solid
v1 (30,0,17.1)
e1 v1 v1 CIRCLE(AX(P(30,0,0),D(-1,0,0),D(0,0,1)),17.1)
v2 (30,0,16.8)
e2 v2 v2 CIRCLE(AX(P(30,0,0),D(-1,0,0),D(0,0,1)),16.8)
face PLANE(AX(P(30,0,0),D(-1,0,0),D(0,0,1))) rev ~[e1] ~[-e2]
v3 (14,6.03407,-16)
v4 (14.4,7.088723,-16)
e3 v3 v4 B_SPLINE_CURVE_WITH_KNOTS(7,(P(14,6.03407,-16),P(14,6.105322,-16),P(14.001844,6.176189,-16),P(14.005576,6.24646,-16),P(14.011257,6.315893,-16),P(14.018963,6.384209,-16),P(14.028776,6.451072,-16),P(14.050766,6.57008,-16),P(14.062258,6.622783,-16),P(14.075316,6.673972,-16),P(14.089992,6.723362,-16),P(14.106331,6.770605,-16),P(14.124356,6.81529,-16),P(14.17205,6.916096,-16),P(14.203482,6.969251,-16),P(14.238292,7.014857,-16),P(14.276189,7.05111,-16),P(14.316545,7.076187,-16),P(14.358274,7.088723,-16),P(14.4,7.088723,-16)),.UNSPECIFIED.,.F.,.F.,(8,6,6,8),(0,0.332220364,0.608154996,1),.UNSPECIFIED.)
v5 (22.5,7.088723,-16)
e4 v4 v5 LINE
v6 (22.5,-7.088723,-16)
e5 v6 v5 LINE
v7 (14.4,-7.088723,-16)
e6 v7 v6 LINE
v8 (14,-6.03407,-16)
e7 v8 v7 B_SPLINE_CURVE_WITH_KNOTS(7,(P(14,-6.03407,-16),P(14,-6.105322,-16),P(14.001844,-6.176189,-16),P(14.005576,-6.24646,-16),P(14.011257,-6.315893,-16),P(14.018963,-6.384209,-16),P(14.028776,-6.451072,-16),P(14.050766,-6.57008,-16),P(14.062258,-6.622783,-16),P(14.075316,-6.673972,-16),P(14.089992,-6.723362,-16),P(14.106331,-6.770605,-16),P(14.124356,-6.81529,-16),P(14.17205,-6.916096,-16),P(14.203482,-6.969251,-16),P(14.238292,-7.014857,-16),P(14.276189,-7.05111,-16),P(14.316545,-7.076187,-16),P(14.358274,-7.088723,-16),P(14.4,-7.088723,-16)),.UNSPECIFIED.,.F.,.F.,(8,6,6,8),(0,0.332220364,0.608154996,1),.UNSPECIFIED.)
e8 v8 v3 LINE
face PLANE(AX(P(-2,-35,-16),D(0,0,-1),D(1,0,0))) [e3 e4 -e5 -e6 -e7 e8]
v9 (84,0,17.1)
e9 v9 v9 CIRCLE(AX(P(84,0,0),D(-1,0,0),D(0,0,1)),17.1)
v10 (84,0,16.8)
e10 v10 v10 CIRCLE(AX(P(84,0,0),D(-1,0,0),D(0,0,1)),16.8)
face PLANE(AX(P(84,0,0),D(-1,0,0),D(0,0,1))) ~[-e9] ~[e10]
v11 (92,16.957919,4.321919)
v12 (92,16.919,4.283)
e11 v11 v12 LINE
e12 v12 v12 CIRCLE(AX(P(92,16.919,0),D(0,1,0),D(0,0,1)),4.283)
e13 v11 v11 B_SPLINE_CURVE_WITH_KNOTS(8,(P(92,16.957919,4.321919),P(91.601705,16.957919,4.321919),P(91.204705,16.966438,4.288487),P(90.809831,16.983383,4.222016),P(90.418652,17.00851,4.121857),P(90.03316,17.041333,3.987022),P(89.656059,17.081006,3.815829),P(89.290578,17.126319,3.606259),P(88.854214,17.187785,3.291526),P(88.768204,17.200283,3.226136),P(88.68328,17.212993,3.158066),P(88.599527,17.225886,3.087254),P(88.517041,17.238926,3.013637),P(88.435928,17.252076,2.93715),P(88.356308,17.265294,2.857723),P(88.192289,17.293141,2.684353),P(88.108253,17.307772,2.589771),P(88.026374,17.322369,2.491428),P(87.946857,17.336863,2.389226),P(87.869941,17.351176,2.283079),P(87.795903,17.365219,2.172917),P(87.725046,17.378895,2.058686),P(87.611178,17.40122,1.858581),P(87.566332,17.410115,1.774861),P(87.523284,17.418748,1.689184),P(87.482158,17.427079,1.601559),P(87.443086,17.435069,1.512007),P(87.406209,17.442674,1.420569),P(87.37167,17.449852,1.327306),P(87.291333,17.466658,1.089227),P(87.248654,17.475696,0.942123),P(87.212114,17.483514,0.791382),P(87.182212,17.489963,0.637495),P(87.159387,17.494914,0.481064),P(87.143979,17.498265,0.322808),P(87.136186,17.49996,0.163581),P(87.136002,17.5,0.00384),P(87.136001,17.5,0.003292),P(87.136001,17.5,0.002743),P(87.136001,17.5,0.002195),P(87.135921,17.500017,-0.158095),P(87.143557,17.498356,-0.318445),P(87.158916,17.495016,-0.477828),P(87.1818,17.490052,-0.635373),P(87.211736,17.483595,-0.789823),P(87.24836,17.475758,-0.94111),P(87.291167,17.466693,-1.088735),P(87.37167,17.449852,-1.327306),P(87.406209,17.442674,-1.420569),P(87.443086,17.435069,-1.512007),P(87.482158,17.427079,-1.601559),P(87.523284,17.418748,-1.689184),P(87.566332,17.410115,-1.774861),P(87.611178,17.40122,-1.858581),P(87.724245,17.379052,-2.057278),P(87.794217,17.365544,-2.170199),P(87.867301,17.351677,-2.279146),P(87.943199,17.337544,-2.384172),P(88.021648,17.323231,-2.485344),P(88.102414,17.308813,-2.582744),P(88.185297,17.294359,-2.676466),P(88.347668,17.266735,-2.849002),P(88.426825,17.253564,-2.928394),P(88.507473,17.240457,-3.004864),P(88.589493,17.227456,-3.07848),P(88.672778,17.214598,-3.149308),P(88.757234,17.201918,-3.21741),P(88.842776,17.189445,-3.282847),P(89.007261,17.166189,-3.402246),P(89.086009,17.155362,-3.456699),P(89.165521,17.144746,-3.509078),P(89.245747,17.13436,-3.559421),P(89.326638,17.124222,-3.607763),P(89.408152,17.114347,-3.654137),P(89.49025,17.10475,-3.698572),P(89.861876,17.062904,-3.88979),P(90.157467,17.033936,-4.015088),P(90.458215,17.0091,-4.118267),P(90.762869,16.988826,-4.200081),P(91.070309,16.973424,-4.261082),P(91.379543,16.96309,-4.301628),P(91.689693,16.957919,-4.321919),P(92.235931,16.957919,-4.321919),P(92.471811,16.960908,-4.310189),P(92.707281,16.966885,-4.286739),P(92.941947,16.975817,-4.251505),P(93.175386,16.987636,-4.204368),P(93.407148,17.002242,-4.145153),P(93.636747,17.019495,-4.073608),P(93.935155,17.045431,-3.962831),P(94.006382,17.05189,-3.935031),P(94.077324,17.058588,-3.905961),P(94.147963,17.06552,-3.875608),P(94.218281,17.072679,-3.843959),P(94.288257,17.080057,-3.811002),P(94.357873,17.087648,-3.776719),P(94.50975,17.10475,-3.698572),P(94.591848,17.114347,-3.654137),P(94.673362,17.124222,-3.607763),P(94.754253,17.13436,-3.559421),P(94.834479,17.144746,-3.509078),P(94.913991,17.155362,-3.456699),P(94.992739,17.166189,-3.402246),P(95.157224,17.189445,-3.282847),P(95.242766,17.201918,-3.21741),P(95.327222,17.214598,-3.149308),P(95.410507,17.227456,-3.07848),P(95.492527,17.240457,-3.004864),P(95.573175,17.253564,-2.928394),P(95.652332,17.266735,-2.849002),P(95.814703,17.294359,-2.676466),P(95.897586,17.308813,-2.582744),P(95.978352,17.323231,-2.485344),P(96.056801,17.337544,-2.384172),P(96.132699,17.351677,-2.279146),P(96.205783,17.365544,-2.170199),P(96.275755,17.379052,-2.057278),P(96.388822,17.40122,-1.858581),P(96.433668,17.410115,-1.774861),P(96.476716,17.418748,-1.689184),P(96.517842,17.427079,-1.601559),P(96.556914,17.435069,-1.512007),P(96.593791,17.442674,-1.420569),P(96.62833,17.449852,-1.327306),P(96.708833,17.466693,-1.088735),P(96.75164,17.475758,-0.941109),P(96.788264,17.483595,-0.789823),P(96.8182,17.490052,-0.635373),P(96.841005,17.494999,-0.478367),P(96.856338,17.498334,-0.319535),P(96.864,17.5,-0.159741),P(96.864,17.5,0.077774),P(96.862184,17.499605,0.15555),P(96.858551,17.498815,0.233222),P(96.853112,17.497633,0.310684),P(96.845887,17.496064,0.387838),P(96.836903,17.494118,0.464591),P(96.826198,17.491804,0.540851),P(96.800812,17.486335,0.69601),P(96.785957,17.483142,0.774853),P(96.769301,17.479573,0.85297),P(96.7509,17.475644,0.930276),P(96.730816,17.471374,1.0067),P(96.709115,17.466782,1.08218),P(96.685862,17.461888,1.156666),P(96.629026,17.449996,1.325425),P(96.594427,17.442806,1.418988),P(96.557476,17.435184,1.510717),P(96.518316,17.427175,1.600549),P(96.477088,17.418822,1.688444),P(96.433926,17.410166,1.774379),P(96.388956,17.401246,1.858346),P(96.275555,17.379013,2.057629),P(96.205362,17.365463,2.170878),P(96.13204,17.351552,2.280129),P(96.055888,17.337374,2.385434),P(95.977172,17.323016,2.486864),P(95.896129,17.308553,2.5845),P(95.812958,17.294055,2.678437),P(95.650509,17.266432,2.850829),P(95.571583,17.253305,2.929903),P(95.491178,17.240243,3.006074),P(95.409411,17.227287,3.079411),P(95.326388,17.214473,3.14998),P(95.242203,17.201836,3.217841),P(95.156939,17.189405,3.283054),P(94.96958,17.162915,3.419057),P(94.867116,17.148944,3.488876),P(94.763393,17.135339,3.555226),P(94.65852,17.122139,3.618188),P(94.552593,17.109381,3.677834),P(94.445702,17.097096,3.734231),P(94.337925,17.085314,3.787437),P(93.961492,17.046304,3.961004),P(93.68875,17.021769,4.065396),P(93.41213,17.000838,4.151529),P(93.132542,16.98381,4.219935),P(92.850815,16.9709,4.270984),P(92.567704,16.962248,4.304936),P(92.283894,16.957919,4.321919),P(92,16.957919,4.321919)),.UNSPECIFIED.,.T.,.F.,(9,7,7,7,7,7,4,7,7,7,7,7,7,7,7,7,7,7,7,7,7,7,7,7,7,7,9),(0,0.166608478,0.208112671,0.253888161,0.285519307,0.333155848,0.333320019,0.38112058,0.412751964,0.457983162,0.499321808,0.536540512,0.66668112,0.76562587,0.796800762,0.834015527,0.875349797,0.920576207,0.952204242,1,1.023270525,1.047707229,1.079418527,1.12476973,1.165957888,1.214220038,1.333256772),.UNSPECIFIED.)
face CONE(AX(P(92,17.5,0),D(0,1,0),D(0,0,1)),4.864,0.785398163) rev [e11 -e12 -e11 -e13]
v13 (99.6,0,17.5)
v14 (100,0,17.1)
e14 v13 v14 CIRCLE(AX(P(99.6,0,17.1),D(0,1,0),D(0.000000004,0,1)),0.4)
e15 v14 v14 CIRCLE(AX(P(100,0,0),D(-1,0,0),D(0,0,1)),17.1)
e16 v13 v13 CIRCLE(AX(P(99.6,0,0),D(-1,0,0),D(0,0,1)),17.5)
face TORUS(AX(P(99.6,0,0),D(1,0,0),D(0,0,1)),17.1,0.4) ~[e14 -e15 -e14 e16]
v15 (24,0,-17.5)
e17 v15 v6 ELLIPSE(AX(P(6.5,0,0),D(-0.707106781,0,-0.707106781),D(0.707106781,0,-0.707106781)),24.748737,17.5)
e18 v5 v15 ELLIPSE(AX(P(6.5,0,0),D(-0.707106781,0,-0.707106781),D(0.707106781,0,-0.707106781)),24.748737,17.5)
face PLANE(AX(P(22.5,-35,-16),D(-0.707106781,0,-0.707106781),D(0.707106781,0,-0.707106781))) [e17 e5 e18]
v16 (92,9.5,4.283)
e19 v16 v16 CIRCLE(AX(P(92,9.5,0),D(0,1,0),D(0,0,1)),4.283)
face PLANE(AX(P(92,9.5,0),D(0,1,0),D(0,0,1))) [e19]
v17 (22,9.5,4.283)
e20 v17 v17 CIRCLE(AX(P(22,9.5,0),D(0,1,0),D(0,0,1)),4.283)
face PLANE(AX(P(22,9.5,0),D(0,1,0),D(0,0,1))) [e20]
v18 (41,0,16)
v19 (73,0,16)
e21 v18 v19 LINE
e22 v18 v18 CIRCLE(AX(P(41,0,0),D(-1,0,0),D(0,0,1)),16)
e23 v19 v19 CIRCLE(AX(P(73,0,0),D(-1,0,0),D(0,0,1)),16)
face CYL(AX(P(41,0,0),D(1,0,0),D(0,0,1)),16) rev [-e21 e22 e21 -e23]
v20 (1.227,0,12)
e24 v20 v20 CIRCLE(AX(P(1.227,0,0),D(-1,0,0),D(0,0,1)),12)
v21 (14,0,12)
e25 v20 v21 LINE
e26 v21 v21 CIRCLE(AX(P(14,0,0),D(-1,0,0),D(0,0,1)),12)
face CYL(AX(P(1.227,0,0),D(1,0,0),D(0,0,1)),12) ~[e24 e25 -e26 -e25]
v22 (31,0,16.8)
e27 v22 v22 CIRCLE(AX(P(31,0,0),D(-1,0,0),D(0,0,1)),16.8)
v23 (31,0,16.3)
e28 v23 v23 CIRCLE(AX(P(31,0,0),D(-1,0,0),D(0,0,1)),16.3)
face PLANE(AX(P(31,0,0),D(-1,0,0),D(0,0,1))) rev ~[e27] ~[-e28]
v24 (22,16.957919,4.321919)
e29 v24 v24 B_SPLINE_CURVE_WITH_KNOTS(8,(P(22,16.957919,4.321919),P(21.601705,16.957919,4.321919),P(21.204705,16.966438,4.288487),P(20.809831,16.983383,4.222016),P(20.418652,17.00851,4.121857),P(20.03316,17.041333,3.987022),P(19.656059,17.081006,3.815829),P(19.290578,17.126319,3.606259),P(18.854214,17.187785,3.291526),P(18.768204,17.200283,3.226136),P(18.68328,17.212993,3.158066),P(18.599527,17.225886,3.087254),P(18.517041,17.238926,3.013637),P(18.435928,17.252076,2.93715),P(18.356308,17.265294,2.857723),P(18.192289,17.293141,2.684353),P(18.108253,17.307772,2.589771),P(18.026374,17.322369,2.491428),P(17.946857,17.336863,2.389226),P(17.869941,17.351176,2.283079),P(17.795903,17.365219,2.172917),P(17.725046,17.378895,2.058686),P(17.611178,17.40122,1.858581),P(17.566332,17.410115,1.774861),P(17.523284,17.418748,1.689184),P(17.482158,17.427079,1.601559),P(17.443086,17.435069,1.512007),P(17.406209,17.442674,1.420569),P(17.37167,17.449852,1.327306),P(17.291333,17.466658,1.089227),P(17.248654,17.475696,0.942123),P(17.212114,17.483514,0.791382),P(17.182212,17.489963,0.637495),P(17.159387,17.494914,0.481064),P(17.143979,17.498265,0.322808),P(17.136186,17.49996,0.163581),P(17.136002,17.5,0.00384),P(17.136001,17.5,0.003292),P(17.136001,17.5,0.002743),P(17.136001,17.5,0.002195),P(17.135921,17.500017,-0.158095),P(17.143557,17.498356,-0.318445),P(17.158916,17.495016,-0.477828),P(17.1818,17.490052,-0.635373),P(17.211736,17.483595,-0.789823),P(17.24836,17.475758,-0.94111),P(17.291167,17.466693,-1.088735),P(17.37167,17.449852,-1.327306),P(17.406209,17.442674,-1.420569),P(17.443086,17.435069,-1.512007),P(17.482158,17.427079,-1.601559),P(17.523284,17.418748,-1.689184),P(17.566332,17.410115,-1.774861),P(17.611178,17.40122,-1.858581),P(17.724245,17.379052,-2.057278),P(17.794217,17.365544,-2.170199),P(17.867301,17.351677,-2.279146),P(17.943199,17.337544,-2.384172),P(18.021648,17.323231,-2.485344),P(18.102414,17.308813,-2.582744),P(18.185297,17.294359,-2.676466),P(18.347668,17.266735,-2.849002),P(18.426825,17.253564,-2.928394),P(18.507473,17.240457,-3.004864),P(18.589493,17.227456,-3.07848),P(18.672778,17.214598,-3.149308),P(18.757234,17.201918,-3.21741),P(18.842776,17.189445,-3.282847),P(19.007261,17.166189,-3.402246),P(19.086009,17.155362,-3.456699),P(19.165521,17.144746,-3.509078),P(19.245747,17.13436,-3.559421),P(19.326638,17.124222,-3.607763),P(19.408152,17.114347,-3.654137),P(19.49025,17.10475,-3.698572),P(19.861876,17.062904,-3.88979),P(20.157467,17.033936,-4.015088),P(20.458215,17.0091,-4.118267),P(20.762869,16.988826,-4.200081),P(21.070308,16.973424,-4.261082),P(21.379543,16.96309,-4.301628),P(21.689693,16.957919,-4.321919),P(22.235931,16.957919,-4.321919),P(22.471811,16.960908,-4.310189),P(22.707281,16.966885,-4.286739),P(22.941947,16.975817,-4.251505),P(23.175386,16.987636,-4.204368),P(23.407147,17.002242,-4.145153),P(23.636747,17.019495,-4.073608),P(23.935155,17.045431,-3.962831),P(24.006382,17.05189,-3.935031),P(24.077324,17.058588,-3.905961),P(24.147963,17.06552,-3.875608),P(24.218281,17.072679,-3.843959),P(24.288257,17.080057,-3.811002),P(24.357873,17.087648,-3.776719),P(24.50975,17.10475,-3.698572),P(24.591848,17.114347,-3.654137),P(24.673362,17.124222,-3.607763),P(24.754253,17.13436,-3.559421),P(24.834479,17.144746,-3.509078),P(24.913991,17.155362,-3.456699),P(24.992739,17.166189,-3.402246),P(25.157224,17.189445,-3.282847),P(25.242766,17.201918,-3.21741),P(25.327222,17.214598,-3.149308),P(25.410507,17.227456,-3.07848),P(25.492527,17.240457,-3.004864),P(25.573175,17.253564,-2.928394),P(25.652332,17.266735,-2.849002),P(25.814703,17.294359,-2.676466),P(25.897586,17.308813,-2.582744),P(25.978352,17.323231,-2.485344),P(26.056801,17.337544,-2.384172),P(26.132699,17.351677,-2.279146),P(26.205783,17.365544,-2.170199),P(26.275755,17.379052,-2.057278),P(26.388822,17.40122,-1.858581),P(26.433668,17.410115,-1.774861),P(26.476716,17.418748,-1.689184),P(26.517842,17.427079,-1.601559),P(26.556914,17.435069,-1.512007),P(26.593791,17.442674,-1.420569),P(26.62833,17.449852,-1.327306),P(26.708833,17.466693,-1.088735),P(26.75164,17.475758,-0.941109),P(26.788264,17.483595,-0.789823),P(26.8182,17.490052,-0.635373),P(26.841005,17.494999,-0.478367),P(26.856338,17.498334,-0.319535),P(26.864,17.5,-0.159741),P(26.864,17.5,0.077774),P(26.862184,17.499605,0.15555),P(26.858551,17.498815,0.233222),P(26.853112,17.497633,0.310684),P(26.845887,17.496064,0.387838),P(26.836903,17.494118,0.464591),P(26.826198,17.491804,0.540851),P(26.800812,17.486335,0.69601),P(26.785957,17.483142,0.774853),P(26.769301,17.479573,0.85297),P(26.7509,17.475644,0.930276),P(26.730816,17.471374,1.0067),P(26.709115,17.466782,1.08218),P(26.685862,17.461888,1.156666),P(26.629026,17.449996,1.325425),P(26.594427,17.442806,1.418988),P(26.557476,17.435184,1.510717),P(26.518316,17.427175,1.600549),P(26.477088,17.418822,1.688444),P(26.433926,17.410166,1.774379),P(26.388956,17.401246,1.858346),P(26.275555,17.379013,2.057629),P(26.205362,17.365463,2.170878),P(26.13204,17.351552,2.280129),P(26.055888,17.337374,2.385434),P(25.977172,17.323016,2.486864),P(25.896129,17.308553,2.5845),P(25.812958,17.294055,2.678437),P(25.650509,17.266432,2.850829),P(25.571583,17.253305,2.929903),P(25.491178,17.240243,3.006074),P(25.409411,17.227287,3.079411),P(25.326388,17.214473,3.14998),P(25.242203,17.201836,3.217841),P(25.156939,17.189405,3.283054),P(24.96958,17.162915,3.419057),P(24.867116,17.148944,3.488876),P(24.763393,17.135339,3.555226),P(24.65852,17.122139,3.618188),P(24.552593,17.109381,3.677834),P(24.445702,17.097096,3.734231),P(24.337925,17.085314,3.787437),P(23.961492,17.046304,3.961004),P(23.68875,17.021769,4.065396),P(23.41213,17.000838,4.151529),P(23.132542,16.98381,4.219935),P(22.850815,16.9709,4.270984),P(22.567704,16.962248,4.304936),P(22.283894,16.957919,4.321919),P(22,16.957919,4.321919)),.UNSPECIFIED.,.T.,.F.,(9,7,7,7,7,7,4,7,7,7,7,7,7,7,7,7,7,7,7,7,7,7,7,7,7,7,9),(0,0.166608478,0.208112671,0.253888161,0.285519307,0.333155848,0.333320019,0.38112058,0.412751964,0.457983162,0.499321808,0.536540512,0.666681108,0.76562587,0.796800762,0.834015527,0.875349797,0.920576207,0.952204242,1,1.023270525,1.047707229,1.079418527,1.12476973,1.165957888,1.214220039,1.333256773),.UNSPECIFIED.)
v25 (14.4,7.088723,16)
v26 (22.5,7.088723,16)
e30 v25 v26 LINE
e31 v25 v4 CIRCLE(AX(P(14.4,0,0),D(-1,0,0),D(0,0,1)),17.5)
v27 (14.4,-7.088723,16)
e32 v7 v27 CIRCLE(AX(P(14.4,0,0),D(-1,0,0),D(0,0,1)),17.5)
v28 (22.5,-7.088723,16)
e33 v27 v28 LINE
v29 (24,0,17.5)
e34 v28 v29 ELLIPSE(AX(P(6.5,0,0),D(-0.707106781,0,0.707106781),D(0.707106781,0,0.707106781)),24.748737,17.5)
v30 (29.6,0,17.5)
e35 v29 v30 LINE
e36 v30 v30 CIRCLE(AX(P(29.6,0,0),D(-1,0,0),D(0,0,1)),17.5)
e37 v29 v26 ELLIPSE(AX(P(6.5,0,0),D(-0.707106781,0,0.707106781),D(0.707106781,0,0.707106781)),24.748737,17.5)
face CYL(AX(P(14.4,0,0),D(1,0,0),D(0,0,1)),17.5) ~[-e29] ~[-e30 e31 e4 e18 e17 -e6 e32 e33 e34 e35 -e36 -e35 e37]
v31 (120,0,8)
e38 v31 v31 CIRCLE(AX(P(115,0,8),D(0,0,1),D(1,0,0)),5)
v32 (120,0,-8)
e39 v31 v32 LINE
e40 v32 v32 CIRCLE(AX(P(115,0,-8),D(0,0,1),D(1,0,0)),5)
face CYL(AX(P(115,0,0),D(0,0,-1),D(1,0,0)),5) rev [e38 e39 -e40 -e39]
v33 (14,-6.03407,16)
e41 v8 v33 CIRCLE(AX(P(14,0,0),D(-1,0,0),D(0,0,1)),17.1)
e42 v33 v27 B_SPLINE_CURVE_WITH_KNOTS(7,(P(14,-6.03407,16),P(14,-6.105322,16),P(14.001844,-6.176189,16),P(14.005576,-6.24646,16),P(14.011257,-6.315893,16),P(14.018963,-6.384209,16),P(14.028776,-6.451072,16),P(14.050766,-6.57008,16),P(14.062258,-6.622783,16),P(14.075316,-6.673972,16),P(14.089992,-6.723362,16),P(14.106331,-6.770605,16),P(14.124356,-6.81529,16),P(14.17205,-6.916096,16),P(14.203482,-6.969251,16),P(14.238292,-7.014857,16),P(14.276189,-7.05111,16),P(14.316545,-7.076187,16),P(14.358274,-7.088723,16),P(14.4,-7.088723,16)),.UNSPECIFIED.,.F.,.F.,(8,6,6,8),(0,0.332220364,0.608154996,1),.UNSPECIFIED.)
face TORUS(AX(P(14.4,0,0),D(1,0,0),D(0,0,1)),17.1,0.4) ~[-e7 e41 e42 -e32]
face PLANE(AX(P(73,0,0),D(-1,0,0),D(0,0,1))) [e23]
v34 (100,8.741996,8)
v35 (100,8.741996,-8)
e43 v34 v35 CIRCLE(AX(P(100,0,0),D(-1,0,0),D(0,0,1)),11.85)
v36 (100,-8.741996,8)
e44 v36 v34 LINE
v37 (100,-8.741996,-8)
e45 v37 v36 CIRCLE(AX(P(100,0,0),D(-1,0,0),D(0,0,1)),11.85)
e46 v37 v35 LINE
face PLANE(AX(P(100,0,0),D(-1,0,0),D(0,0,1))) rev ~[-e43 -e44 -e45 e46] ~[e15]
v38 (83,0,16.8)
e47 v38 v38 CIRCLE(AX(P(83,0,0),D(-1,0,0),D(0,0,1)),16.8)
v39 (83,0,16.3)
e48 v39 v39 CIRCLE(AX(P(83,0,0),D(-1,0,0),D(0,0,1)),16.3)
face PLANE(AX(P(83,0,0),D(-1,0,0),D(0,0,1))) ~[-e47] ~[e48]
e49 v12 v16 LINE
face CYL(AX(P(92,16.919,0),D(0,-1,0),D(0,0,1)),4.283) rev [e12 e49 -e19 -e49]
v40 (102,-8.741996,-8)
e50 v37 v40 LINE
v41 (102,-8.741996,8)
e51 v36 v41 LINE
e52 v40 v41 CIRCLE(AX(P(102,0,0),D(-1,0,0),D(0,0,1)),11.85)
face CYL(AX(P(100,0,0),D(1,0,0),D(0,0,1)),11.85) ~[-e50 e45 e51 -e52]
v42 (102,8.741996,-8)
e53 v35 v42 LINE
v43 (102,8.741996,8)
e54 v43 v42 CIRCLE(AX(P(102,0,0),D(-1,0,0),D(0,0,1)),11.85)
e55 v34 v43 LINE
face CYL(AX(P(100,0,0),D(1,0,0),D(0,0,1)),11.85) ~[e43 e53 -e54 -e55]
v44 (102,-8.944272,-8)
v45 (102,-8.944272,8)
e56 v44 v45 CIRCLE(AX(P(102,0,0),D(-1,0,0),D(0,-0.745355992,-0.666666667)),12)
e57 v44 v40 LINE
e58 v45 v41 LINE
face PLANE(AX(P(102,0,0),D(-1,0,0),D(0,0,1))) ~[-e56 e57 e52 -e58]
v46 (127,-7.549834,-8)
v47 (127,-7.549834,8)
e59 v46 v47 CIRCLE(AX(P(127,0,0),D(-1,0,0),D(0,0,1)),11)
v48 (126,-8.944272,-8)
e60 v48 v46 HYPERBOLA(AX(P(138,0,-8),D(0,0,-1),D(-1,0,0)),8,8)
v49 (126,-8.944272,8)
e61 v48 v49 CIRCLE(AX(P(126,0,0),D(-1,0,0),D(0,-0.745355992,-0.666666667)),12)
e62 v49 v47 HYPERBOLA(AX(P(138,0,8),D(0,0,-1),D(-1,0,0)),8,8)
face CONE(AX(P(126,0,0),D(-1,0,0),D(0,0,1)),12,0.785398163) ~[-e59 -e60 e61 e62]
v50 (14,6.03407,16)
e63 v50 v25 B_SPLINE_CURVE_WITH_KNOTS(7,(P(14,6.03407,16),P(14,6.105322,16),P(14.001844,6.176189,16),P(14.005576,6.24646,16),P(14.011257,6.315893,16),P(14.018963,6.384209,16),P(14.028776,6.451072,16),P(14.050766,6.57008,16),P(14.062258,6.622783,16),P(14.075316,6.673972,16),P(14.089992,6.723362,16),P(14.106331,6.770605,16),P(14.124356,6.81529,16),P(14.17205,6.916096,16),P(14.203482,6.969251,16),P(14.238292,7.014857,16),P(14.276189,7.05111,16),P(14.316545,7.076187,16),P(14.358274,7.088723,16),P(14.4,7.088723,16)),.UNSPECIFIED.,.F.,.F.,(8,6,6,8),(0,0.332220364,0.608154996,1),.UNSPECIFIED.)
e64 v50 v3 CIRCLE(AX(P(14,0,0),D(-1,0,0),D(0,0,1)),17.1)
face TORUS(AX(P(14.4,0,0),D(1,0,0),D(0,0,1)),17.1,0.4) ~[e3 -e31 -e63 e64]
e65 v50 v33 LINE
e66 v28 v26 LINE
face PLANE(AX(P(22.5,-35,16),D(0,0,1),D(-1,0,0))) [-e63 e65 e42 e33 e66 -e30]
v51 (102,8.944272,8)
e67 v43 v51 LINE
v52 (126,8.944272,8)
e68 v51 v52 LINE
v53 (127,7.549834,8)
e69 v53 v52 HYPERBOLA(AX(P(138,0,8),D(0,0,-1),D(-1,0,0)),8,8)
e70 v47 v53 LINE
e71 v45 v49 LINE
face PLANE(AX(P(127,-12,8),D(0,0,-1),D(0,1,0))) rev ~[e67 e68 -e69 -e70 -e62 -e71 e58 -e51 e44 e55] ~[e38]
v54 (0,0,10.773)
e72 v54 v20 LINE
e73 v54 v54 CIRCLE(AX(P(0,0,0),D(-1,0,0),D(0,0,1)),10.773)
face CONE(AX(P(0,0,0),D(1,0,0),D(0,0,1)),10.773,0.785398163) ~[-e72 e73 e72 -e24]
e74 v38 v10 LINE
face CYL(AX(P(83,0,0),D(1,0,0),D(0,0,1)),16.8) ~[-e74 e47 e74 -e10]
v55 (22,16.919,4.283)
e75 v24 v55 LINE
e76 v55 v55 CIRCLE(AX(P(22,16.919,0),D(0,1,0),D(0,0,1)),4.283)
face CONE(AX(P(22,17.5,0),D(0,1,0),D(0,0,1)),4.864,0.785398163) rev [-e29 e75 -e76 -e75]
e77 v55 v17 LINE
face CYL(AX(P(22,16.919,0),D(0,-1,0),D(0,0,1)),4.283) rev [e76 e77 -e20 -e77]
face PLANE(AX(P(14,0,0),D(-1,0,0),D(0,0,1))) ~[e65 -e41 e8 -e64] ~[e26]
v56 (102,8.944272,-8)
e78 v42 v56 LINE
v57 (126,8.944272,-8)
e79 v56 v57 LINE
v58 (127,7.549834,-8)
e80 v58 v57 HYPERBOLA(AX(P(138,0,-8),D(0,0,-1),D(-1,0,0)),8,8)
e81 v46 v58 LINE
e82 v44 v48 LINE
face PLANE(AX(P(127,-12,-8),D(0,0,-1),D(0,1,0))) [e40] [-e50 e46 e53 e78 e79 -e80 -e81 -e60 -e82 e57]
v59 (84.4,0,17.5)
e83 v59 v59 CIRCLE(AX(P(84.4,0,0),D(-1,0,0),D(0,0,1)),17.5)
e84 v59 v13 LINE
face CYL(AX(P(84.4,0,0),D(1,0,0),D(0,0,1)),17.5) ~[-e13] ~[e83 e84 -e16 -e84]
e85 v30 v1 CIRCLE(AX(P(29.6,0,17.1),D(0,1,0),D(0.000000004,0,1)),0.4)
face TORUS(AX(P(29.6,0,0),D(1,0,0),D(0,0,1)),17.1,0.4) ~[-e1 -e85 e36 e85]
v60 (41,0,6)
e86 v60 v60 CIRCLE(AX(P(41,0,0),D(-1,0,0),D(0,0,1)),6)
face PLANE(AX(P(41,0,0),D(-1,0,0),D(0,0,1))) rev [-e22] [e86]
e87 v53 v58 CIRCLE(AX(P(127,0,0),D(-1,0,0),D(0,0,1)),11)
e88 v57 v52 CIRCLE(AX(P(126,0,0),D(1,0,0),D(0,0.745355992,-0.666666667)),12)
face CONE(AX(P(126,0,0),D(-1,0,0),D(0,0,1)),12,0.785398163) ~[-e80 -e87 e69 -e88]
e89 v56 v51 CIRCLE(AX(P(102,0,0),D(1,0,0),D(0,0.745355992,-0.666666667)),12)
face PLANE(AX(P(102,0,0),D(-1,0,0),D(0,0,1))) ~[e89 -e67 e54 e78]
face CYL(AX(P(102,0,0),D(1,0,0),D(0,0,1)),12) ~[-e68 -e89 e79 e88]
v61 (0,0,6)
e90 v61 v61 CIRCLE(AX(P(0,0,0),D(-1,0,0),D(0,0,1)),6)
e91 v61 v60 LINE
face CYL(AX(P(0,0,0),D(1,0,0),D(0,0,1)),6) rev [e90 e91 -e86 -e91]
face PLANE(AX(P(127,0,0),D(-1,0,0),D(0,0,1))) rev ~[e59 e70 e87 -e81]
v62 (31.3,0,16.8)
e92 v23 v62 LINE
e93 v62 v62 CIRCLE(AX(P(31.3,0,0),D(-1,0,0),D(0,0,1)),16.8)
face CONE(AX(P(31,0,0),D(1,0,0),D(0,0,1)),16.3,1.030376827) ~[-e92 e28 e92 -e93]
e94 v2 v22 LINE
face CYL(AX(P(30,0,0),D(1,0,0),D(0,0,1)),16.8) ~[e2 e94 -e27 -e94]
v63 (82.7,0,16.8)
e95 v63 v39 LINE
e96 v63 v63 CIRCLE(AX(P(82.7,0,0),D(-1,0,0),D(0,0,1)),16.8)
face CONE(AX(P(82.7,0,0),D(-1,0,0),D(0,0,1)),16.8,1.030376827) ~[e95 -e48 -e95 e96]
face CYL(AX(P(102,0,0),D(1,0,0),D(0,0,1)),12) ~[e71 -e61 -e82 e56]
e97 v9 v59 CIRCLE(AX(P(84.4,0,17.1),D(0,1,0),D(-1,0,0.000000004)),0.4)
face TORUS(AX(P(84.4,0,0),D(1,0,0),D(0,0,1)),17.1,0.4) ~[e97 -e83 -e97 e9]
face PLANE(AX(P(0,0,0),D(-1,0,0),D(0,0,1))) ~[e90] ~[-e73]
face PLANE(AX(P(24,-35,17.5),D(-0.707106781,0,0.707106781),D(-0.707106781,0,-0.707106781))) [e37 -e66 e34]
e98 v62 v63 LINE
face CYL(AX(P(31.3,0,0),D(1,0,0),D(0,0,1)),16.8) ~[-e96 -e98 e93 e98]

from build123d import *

# Parameters (mm, degrees)
SKETCH_3_W               = 36
SKETCH_3_H               = 44
SKETCH_3_W_2             = 16
SKETCH_3_H_2             = 24
CUT_EXTRUDE_1_DEPTH      = 27
SKETCH_4_W               = 16
SKETCH_4_H               = 5
CUT_EXTRUDE_2_DEPTH      = 35
CUT_EXTRUDE_2_DEPTH_BACK = 35


with BuildPart() as part:
    # 草图1 → 旋转1 (revolve)
    with BuildSketch(Plane.XY):
        with BuildLine():
            Line((0, 0), (0, 10.773))
            Line((0, 10.773), (1.227, 12))
            Line((1.227, 12), (14, 12))
            Line((14, 12), (14, 17.1))
            ThreePointArc((14, 17.1), (14.117157288, 17.382842712), (14.4, 17.5))
            Line((14.4, 17.5), (29.6, 17.5))
            ThreePointArc((29.6, 17.5), (29.882842712, 17.382842712), (30, 17.1))
            Line((30, 17.1), (30, 16.8))
            Line((30, 16.8), (31, 16.8))
            Line((31, 16.8), (31, 16.3))
            Line((31, 16.3), (31.3, 16.8))
            Line((31.3, 16.8), (82.7, 16.8))
            Line((82.7, 16.8), (83, 16.3))
            Line((83, 16.3), (83, 16.8))
            Line((83, 16.8), (84, 16.8))
            Line((84, 16.8), (84, 17.1))
            ThreePointArc((84, 17.1), (84.117157288, 17.382842712), (84.4, 17.5))
            Line((84.4, 17.5), (99.6, 17.5))
            ThreePointArc((99.6, 17.5), (99.882842712, 17.382842712), (100, 17.1))
            Line((100, 17.1), (100, 0))
            Line((100, 0), (0, 0))
        make_face()
    revolve(axis=Axis((100, 0, 0), (-1, 0, 0)))

    # 草图2 → 旋转2 (revolve)
    with BuildSketch(Plane.XY):
        Polygon((100, 0), (100, 11.85), (102, 11.85), (102, 12), (126, 12), (127, 11), (127, 0), align=None)
    revolve(axis=Axis((127, 0, 0), (-1, 0, 0)))

    # 草图3 → 切除-拉伸1 (cut)
    with BuildSketch(Plane(origin=(127, 0, 0), x_dir=(0, 0, -1), z_dir=(1, 0, 0))):
        Rectangle(SKETCH_3_W, SKETCH_3_H)
        Rectangle(SKETCH_3_W_2, SKETCH_3_H_2, mode=Mode.SUBTRACT)
    extrude(amount=-CUT_EXTRUDE_1_DEPTH, mode=Mode.SUBTRACT)

    # 草图4 → 切除-旋转1 (revolve, cut)
    with BuildSketch(Plane(origin=(115, 0, 0), x_dir=(0, 0, -1), z_dir=(1, 0, 0))):
        with Locations((0, 2.5)):
            Rectangle(SKETCH_4_W, SKETCH_4_H)
    revolve(axis=Axis((115, 0, -8), (0, 0, 1)), mode=Mode.SUBTRACT)

    # 草图5 → 切除-旋转2 (revolve, cut)
    with BuildSketch(Plane.XY):
        Polygon((22, 17.5), (26.864, 17.5), (26.283, 16.919), (26.283, 9.5), (22, 9.5), align=None)
    revolve(axis=Axis((22, 9.5, 0), (0, 1, 0)), mode=Mode.SUBTRACT)

    # 草图6 → 切除-旋转3 (revolve, cut)
    with BuildSketch(Plane.XY):
        Polygon((92, 17.5), (96.864, 17.5), (96.283, 16.919), (96.283, 9.5), (92, 9.5), align=None)
    revolve(axis=Axis((92, 9.5, 0), (0, 1, 0)), mode=Mode.SUBTRACT)

    # 草图7 → 切除-拉伸2 (cut, two sides: drawn at the far end of the back side and taken through both)
    with BuildSketch(Plane(origin=(0, 0, 0), x_dir=(1, 0, 0), z_dir=(0, 1, 0)).offset(-CUT_EXTRUDE_2_DEPTH_BACK)):
        Polygon((-4, -17.5), (24, -17.5), (22.5, -16), (-2, -16), (-2, 16), (22.5, 16), (24, 17.5), (-4, 17.5), align=None)
    extrude(amount=CUT_EXTRUDE_2_DEPTH + CUT_EXTRUDE_2_DEPTH_BACK, mode=Mode.SUBTRACT)

    # 草图8 → 切除-旋转4 (revolve, cut)
    with BuildSketch(Plane.XY):
        Polygon((0, 0), (0, 6), (41, 6), (41, 16), (73, 16), (73, 0), align=None)
    revolve(axis=Axis((73, 0, 0), (-1, 0, 0)), mode=Mode.SUBTRACT)


solid = part.part
